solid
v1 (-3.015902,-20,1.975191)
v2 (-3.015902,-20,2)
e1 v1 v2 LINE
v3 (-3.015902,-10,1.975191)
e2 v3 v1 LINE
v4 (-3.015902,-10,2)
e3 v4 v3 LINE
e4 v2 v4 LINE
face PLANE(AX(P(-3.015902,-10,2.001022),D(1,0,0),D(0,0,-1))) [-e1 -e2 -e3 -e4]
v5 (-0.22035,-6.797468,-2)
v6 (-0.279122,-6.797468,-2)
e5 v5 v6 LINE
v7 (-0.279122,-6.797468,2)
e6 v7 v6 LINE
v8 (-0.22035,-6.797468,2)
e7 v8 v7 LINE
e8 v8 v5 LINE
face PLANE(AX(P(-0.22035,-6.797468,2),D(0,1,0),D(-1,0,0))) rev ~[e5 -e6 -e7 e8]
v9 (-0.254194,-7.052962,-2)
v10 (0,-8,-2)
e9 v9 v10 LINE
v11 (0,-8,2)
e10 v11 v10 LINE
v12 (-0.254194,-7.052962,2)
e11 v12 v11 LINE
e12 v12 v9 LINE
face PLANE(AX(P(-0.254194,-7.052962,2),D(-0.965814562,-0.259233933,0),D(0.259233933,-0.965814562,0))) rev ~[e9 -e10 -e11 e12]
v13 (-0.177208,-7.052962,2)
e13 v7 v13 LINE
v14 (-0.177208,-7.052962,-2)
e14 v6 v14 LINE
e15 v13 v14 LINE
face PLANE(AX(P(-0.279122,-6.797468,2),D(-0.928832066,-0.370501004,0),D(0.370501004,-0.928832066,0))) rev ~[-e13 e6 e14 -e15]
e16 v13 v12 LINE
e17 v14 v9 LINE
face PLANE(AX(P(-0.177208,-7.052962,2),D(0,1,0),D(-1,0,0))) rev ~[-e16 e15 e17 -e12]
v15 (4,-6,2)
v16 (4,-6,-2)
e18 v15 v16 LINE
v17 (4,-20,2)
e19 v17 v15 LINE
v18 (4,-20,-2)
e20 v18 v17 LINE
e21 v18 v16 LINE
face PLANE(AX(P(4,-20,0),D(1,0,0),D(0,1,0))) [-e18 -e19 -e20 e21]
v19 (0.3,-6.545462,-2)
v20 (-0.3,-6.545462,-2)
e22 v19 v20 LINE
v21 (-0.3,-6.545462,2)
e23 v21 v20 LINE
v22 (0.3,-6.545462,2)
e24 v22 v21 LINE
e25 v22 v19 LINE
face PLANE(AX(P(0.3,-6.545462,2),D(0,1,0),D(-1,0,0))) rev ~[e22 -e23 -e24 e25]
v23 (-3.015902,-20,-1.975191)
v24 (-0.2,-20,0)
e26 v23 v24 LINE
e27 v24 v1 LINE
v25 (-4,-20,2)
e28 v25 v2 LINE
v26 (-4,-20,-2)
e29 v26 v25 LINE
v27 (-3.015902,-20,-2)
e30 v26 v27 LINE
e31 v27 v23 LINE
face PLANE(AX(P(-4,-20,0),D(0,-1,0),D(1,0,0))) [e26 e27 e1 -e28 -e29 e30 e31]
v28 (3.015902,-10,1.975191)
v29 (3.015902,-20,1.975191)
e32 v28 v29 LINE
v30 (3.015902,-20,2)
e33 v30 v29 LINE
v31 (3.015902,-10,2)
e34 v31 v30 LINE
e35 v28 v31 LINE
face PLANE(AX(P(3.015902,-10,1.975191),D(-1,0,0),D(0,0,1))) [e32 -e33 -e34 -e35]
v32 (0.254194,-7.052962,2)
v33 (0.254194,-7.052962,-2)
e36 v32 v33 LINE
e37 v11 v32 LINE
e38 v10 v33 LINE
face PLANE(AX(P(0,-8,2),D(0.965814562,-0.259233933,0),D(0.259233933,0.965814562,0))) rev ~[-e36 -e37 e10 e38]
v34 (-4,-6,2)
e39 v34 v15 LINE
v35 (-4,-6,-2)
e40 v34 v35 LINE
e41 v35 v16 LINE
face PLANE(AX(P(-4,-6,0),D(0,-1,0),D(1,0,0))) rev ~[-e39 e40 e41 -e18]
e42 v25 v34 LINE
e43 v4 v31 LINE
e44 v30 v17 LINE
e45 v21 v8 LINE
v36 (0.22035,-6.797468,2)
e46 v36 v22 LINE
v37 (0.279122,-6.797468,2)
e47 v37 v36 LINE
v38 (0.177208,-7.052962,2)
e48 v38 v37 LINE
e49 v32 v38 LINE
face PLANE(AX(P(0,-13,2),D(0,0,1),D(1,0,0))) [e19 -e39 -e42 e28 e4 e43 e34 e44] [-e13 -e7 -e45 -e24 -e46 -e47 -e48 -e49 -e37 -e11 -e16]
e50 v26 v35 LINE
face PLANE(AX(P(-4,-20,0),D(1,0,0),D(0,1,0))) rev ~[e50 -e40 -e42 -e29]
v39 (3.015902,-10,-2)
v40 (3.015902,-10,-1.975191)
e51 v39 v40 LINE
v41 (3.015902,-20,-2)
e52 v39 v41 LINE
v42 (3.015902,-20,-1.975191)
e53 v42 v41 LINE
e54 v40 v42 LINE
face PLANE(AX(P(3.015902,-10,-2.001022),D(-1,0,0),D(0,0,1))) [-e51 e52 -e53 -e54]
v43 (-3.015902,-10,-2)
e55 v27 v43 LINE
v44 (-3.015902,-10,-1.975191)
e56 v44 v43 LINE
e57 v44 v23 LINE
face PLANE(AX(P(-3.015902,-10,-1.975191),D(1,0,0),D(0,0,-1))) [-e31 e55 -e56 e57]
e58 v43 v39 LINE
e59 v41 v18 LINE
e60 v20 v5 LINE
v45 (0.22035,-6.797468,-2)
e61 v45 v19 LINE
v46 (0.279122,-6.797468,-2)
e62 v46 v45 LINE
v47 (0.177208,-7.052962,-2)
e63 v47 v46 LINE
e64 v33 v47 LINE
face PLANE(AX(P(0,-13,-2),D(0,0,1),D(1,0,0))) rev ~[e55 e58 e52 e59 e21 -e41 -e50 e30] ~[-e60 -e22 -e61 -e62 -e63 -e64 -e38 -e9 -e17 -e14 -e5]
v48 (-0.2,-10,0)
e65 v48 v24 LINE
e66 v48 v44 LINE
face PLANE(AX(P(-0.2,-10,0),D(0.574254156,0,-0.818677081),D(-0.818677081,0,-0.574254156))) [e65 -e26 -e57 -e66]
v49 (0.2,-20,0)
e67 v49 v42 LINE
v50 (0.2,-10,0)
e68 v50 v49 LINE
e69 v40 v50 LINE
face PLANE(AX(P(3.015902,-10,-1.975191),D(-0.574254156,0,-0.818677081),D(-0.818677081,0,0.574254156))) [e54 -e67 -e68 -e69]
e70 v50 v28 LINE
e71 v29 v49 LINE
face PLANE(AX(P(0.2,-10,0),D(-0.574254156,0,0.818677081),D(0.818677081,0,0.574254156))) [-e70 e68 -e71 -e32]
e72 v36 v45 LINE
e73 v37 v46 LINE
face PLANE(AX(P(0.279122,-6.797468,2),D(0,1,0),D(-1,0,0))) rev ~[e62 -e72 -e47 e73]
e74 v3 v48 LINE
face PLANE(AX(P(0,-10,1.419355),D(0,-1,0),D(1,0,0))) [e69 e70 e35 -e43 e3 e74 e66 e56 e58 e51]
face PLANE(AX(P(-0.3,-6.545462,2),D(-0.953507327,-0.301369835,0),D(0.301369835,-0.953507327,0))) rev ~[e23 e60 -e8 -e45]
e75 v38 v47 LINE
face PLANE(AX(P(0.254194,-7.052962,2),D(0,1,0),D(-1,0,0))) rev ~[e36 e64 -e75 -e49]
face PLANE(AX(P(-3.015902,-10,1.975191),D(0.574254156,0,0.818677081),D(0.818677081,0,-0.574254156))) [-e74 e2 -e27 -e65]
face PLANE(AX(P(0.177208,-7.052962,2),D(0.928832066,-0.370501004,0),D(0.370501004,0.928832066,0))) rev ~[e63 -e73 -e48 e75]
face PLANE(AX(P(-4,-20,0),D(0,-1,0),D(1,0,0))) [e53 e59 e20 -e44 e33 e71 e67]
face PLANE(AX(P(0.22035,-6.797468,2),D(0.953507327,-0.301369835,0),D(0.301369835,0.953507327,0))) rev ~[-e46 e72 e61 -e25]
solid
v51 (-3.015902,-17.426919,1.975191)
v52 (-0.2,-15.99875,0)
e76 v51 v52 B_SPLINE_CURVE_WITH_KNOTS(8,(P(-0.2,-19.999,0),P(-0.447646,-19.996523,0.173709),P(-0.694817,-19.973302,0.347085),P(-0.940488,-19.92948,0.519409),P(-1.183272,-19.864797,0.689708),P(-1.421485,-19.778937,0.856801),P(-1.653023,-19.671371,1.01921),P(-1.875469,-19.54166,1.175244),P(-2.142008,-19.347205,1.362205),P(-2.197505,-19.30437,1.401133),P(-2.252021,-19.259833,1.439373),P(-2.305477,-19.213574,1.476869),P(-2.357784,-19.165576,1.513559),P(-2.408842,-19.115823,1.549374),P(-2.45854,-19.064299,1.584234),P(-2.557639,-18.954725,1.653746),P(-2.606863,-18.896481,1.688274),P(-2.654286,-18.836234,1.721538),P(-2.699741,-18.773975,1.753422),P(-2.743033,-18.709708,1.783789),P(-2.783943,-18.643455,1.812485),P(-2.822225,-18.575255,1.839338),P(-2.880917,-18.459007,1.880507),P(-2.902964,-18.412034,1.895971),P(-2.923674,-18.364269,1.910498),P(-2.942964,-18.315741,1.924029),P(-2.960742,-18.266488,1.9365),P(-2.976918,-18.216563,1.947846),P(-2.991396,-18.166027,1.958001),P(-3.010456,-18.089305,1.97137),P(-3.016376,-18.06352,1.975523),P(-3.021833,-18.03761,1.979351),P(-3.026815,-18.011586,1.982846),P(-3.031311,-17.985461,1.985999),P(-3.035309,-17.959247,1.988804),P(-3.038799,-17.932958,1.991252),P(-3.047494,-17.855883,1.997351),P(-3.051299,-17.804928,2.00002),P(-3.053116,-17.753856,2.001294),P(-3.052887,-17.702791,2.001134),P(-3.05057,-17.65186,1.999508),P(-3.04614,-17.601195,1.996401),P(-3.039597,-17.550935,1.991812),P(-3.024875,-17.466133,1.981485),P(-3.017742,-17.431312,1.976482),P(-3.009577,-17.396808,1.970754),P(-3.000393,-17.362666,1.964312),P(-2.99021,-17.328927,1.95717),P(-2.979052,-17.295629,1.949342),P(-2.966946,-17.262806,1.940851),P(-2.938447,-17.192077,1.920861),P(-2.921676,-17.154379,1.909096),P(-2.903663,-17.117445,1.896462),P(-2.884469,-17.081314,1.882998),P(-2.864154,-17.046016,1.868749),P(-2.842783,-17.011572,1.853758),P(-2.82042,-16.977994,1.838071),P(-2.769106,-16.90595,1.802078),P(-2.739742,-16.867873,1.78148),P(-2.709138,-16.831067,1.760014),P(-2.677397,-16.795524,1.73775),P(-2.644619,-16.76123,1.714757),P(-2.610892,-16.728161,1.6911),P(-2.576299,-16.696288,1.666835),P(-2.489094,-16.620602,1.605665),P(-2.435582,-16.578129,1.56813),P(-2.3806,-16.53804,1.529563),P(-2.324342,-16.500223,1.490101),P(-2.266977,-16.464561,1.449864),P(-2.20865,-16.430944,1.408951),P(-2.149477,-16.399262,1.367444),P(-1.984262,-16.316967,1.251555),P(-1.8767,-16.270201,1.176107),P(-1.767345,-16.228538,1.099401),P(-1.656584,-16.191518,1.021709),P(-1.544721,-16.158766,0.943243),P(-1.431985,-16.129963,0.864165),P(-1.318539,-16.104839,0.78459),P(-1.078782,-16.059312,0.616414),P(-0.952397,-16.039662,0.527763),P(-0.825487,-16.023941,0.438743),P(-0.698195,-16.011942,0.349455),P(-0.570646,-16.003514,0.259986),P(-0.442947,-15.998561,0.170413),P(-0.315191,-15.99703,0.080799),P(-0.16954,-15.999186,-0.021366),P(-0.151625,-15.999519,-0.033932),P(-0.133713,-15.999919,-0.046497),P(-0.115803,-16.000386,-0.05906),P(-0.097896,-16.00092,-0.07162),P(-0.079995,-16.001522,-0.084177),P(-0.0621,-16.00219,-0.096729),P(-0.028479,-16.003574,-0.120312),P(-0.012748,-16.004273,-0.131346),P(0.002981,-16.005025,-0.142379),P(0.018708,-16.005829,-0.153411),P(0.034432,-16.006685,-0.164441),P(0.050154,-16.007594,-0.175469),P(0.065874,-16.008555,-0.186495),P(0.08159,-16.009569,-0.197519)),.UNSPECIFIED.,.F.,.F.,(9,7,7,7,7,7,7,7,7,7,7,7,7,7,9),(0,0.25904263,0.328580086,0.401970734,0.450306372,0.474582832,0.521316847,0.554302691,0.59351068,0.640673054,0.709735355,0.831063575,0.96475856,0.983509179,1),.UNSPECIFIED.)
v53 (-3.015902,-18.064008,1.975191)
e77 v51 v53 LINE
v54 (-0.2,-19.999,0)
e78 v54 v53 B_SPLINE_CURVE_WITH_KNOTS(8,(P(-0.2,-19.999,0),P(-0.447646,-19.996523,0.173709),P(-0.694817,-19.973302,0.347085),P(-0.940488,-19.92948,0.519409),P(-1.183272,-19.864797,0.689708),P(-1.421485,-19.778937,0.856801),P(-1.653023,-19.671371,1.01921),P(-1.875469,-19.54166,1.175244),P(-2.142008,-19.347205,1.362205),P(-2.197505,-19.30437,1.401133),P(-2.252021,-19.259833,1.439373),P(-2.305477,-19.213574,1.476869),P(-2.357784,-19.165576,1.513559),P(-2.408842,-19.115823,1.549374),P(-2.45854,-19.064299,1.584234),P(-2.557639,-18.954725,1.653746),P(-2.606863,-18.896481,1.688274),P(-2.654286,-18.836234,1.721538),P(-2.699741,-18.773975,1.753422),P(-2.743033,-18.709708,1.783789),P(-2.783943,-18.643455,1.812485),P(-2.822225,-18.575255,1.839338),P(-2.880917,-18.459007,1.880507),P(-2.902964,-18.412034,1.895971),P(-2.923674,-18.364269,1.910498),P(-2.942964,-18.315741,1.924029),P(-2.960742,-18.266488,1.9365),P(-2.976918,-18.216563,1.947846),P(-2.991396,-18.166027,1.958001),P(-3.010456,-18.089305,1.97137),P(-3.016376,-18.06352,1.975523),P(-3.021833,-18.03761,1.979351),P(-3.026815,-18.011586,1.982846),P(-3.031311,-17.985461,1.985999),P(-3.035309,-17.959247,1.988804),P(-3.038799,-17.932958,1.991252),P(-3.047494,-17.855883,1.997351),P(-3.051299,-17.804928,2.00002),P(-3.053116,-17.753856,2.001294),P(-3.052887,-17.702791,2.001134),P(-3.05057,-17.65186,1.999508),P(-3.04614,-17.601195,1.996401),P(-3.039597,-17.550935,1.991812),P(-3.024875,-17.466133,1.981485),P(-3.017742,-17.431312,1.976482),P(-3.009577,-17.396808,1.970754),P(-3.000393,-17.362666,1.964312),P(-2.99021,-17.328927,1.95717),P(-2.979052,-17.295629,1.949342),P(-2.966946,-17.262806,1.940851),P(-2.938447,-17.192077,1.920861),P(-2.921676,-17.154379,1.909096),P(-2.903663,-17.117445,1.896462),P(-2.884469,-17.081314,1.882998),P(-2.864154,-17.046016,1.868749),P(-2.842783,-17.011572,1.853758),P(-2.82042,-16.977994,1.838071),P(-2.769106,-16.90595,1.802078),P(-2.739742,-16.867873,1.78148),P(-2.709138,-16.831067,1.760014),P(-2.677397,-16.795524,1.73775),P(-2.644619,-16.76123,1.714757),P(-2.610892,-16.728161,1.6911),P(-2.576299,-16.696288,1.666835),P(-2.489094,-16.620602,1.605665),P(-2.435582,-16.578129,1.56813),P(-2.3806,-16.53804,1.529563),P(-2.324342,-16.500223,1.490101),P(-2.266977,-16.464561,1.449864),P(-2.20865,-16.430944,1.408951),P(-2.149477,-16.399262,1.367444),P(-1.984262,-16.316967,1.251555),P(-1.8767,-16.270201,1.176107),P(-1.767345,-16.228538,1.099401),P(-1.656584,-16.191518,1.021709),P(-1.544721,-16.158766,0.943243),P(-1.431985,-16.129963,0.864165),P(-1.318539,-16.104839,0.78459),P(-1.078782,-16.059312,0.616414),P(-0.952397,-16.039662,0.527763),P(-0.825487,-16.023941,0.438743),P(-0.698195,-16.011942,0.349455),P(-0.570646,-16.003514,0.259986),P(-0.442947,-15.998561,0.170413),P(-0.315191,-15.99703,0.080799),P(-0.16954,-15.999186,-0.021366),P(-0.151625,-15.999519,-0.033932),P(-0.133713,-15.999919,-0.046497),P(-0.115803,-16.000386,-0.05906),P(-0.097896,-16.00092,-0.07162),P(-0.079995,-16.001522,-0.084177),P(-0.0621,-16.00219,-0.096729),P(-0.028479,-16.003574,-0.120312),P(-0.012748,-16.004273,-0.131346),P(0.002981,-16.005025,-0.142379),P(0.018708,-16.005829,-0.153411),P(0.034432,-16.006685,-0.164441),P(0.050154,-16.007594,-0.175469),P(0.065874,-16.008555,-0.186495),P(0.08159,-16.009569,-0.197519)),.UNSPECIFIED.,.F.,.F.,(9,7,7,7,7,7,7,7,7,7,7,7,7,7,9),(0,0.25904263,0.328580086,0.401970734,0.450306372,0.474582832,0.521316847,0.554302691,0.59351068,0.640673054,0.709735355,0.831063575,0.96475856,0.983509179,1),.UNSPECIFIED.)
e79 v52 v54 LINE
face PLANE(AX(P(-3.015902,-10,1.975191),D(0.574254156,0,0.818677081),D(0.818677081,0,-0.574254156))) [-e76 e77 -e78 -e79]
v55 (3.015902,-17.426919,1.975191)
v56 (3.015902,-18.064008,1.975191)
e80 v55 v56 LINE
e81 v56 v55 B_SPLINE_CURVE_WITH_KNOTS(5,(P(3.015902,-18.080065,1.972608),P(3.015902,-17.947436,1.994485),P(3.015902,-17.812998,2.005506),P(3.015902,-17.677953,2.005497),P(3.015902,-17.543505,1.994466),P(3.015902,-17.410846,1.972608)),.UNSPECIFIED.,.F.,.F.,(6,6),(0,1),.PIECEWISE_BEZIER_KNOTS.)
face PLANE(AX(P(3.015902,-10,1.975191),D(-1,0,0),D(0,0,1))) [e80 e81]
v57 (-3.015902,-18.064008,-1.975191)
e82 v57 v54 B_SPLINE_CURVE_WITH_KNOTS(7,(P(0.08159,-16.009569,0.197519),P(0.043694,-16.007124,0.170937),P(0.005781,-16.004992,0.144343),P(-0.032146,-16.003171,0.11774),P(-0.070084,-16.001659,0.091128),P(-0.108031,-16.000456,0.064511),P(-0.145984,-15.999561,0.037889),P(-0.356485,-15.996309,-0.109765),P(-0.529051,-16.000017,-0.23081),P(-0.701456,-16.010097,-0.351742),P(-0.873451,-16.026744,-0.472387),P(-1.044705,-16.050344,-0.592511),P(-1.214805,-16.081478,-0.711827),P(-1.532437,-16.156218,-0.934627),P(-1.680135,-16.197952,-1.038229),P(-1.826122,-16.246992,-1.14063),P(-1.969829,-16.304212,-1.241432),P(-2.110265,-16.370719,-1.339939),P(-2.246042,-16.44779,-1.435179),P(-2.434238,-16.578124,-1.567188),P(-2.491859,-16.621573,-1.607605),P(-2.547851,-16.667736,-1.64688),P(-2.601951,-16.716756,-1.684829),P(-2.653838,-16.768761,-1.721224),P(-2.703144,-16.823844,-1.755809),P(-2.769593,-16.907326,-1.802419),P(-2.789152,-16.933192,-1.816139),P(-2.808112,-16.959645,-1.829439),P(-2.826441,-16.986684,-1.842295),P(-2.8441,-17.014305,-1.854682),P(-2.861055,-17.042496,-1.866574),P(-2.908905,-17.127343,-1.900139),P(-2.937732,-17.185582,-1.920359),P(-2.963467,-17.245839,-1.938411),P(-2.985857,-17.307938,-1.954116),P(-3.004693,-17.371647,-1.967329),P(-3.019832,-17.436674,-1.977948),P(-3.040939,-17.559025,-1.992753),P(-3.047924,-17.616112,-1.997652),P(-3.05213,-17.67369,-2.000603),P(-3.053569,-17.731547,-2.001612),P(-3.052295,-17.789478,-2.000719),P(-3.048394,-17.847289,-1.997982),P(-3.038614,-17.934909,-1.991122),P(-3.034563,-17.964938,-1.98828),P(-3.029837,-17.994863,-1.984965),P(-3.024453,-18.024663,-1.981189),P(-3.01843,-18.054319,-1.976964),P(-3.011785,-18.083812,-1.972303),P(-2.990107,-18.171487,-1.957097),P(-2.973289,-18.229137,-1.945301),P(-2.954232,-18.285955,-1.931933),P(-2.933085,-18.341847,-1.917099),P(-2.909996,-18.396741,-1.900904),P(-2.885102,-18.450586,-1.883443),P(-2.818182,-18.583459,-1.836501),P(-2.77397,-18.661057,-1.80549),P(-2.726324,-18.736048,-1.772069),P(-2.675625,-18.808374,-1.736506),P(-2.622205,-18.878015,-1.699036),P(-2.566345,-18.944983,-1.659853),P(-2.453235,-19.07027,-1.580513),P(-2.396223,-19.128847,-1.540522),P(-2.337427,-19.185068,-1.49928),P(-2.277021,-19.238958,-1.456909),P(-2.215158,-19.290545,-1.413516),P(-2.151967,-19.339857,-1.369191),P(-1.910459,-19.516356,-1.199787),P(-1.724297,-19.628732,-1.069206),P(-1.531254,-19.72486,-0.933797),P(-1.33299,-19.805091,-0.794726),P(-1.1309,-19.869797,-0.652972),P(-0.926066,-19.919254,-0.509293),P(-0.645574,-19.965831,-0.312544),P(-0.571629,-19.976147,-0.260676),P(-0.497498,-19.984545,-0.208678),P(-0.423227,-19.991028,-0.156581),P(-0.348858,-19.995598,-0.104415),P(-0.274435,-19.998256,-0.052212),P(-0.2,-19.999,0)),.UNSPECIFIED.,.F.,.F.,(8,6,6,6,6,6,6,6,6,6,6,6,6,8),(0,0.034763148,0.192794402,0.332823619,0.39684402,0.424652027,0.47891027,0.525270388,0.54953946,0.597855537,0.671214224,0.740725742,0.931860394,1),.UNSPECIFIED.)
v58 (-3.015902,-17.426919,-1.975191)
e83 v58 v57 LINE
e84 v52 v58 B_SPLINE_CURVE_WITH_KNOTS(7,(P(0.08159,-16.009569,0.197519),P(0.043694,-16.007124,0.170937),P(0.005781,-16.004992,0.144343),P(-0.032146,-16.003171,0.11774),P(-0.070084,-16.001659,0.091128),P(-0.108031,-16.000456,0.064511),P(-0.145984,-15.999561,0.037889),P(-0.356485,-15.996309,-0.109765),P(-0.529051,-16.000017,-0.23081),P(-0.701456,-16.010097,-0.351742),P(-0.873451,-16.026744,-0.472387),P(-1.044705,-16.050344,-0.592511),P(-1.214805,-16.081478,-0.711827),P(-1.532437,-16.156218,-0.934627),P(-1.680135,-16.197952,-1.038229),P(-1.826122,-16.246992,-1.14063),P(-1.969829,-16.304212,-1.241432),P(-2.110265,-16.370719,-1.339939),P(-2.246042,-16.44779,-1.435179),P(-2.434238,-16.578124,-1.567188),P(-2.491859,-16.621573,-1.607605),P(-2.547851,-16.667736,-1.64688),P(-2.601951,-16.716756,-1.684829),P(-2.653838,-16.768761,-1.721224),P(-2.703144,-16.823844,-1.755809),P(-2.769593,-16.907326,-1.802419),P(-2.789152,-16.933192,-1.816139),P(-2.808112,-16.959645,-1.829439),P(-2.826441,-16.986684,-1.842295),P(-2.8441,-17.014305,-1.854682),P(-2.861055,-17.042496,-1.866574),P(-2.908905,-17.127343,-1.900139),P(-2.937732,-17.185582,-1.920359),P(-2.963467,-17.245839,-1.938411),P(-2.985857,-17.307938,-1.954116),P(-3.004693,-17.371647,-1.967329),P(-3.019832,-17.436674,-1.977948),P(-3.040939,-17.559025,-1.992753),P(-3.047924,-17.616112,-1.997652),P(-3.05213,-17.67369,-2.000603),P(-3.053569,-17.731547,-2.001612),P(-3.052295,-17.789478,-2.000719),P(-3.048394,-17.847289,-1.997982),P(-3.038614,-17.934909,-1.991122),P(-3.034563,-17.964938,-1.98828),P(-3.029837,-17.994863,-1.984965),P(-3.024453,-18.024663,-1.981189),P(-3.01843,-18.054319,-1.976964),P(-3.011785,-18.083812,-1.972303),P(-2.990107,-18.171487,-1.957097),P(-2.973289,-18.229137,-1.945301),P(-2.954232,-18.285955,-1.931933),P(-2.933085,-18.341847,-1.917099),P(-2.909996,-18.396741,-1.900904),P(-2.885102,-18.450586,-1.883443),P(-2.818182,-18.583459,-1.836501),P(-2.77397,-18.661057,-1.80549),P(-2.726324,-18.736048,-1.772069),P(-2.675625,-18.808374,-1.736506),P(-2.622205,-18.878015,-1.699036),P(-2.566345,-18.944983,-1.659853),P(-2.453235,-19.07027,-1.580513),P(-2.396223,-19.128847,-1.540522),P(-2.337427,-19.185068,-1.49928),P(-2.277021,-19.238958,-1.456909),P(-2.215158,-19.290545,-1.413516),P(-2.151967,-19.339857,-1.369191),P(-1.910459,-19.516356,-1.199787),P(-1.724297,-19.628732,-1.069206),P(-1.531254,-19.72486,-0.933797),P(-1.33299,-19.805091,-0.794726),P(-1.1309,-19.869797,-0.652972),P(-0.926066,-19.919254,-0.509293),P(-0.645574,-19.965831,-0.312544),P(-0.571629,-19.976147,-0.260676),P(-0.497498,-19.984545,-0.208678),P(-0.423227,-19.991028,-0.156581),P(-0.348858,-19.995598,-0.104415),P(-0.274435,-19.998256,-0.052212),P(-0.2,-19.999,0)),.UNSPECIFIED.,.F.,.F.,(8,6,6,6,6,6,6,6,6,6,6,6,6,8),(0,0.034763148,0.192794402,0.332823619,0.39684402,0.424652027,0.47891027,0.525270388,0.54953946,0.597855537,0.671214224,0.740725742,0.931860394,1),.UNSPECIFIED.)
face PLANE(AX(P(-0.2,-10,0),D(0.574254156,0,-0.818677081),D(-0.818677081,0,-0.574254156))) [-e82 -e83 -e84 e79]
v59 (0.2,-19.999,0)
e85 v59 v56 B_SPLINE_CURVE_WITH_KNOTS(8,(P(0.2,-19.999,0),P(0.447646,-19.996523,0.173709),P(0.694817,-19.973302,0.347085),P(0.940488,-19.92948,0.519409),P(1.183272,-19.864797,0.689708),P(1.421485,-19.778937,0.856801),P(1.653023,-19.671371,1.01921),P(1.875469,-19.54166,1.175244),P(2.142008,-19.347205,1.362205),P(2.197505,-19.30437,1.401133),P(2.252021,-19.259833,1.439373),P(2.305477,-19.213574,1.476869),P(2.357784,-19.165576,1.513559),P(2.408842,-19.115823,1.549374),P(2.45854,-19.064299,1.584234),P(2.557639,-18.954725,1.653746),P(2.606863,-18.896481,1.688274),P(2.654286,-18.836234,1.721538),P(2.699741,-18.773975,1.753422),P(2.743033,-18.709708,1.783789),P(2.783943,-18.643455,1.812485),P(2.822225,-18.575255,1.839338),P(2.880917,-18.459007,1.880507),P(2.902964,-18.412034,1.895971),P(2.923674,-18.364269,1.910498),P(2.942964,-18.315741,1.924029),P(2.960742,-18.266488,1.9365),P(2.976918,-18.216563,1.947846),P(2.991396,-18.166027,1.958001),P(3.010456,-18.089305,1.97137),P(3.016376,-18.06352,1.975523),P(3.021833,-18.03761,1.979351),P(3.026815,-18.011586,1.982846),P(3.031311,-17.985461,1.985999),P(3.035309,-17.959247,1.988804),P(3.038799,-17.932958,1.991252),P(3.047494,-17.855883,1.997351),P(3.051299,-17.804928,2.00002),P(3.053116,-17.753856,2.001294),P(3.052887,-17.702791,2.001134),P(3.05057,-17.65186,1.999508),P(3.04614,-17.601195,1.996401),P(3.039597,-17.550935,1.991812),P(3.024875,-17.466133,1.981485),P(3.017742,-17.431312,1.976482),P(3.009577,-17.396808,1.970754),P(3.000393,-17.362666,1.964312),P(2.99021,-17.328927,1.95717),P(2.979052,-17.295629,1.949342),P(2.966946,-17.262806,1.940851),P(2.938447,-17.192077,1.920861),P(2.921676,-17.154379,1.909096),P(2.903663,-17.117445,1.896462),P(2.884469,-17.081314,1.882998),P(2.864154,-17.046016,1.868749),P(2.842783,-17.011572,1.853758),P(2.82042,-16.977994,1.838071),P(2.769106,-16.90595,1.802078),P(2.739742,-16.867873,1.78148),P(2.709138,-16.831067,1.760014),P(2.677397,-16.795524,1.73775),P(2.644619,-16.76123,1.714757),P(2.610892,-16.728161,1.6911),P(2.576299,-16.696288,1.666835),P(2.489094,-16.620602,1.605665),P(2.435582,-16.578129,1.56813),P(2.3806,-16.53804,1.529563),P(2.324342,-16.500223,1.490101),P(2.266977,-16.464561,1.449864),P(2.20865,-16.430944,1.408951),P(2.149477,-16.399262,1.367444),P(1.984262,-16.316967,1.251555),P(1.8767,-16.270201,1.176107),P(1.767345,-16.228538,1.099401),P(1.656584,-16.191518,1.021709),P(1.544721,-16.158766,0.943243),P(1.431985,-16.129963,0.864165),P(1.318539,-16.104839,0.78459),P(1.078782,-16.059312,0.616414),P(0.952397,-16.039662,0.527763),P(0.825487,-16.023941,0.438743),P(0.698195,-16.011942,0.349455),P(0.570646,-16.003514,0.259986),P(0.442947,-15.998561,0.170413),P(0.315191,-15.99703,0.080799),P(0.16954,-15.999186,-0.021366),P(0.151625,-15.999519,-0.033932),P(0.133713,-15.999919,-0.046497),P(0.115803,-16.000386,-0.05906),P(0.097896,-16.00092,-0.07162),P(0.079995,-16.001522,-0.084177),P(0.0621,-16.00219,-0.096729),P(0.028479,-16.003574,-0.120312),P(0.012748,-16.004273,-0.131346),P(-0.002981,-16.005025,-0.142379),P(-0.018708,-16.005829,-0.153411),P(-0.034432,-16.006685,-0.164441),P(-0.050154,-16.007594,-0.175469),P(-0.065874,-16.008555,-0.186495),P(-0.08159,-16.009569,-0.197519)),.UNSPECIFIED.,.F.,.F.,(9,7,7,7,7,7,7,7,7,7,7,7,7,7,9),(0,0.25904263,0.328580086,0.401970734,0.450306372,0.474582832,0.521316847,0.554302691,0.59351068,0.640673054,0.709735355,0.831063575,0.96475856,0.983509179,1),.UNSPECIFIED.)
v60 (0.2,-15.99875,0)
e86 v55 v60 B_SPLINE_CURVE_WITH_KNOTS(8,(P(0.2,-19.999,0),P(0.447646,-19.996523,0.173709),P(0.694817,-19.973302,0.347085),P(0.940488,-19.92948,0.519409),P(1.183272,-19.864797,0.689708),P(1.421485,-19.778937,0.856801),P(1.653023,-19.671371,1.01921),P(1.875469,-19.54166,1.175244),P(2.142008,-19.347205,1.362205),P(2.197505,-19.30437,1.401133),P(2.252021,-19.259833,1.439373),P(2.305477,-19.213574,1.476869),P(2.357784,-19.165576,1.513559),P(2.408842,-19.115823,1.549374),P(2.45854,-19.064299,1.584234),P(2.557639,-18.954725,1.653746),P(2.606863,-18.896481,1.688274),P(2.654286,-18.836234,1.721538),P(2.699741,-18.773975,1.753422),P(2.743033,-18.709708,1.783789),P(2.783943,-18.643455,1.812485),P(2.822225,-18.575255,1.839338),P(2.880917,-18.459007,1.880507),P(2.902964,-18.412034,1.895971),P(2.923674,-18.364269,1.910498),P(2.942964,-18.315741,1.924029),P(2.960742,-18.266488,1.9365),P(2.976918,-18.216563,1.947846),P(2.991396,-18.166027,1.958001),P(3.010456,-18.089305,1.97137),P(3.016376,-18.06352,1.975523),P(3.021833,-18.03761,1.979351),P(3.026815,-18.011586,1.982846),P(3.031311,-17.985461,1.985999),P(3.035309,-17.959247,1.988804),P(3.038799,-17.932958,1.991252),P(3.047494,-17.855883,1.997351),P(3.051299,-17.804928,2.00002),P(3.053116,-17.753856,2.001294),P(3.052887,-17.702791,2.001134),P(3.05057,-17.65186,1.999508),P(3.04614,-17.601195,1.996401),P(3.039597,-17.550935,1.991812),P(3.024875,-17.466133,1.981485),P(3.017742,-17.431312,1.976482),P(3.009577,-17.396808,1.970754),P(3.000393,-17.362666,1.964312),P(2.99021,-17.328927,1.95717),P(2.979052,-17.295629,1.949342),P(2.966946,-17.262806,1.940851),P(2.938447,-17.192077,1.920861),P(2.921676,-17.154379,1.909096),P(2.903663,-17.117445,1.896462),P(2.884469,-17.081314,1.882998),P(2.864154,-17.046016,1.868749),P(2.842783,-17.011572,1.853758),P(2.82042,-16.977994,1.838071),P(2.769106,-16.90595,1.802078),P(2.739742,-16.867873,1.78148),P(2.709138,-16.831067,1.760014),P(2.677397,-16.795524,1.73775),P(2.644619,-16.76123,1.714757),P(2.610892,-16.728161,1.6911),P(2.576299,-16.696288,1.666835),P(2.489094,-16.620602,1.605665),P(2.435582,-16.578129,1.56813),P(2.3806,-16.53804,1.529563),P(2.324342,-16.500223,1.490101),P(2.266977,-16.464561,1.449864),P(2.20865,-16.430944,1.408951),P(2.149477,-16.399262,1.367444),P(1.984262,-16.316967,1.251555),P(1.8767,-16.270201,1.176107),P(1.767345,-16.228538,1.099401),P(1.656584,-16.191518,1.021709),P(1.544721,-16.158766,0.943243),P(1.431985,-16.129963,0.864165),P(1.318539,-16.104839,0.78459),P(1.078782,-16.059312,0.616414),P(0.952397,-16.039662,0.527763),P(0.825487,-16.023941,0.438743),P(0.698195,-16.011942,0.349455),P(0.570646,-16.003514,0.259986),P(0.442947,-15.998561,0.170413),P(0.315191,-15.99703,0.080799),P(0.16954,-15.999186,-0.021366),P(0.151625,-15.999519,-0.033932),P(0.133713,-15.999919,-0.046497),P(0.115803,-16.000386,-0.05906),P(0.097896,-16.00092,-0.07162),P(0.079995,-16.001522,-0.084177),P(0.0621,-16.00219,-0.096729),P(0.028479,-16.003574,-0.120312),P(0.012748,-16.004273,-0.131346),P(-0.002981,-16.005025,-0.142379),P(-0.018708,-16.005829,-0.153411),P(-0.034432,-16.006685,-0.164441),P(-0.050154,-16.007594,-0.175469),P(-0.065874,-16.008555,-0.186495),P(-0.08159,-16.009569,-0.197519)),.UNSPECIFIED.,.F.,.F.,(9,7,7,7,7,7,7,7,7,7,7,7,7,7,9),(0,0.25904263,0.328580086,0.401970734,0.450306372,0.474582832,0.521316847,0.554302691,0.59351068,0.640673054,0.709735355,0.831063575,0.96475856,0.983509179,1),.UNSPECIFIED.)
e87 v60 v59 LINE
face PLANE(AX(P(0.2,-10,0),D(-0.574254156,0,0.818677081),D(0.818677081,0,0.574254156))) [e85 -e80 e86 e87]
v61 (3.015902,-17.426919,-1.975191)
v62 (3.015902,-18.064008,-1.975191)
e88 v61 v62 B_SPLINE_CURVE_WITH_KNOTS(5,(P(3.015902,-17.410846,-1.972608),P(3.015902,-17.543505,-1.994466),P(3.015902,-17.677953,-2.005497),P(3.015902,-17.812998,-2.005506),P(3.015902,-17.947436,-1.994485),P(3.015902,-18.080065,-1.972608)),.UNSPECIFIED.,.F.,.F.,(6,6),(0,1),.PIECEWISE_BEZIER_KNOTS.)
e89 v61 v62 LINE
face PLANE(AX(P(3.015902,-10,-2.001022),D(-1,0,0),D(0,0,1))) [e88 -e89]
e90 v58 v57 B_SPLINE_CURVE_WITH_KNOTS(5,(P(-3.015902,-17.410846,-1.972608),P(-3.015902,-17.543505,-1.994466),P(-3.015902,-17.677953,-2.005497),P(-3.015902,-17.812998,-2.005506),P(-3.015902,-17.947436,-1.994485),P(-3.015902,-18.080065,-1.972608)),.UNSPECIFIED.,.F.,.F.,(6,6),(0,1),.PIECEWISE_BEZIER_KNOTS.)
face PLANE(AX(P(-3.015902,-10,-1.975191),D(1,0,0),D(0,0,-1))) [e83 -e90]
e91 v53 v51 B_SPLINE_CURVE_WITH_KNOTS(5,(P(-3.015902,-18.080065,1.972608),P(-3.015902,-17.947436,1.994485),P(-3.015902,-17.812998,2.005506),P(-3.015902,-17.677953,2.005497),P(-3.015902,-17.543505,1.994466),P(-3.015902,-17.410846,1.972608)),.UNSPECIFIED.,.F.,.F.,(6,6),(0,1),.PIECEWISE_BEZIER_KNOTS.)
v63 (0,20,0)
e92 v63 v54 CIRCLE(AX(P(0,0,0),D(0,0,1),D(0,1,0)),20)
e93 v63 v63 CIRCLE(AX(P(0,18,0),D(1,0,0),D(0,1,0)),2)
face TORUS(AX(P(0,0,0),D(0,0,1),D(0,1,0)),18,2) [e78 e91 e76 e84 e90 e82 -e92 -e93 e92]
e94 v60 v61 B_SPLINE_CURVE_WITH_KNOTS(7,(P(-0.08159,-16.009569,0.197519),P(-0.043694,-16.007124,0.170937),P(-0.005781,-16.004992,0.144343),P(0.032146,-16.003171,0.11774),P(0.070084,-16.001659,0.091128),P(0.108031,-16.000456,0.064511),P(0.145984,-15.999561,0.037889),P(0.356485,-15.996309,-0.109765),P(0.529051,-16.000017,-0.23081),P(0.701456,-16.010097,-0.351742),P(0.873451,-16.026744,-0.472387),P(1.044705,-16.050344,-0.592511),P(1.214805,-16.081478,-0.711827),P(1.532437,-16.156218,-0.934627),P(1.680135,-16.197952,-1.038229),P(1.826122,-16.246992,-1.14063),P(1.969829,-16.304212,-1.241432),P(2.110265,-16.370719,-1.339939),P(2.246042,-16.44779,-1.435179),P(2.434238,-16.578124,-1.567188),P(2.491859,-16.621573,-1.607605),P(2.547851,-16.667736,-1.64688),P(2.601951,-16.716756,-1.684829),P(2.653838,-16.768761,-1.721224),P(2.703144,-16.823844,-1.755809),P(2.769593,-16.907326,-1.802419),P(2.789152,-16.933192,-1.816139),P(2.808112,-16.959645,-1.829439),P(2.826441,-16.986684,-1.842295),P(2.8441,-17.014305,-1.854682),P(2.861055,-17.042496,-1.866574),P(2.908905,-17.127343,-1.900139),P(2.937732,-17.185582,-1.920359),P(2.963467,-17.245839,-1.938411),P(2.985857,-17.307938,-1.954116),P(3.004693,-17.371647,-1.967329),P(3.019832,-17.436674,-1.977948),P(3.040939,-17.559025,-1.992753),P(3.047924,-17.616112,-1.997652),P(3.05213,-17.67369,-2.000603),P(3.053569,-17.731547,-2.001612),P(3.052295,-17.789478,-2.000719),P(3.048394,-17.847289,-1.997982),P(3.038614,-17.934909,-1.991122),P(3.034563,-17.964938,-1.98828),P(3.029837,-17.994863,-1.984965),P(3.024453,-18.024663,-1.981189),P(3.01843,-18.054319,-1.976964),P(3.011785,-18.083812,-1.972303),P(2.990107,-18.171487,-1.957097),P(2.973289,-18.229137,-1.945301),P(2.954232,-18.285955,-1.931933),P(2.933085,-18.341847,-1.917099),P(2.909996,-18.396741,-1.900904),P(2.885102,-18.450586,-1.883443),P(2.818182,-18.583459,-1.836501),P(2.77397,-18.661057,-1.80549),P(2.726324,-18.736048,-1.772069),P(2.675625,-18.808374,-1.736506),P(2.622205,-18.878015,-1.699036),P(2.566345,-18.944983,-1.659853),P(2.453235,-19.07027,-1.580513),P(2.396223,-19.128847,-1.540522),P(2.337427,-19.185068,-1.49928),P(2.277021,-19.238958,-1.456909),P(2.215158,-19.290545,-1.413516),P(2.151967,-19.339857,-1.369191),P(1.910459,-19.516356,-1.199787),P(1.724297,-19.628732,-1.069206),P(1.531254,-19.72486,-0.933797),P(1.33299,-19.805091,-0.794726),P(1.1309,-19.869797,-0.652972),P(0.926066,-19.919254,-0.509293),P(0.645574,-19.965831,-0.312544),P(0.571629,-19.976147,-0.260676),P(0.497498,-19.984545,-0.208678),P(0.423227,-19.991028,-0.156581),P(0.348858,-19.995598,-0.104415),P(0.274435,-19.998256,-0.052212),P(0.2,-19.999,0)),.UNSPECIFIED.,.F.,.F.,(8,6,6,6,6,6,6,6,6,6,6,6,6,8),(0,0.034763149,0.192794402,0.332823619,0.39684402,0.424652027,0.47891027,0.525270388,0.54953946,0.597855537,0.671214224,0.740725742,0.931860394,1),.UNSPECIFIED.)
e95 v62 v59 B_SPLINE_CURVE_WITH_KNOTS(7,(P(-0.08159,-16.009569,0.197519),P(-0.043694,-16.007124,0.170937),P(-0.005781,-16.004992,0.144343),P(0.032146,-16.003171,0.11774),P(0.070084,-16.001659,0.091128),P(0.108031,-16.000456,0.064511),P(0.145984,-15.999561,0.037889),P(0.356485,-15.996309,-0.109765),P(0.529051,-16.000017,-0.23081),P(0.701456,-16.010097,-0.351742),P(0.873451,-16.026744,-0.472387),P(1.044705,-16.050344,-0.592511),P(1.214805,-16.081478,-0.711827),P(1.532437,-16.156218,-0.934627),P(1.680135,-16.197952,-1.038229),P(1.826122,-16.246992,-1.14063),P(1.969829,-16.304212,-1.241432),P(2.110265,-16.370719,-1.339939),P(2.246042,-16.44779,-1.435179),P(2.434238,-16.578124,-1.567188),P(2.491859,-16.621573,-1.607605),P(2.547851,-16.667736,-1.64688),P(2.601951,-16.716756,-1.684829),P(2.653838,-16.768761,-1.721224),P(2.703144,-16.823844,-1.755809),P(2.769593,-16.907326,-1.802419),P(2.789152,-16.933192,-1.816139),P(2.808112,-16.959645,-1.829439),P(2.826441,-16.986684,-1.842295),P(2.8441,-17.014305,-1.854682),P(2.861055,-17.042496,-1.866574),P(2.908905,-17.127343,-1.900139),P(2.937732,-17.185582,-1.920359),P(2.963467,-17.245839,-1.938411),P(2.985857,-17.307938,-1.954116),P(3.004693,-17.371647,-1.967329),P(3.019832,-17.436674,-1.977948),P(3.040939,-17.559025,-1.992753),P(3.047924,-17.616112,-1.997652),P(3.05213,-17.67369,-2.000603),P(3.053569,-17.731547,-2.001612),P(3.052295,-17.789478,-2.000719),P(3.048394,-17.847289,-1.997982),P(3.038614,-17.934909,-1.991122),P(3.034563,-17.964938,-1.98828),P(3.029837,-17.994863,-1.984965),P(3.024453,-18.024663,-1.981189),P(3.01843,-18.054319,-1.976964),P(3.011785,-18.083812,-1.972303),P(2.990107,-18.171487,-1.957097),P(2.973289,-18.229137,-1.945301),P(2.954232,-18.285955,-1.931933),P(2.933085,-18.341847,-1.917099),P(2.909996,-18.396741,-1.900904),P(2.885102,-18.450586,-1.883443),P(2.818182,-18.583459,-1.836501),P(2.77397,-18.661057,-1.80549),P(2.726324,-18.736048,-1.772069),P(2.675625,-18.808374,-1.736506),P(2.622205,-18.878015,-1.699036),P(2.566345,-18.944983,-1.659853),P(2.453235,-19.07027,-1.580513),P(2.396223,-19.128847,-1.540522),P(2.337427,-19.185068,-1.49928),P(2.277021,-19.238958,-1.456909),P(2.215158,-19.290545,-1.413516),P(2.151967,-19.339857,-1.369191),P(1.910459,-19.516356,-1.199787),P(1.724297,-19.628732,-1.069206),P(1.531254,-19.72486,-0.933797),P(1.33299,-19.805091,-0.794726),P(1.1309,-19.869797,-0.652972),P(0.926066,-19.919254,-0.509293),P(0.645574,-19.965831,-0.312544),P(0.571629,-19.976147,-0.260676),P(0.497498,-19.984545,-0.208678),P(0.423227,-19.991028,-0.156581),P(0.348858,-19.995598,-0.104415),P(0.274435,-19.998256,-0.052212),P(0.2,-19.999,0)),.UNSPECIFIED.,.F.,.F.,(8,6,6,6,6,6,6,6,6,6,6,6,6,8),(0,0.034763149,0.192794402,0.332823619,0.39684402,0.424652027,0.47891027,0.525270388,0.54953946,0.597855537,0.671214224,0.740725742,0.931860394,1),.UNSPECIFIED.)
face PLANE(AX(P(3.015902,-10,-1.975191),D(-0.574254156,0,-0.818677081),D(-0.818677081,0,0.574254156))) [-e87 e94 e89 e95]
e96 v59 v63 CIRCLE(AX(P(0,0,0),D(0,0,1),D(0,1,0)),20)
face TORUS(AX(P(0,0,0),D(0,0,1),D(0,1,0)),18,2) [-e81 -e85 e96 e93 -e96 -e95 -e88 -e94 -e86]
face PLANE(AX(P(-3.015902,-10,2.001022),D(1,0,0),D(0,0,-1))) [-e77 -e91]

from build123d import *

# Parameters (mm, degrees)
F1_R          = 2
F3_W          = 8
F3_H          = 14
F4_DEPTH      = 2
F4_DEPTH_BACK = 2
F6_START      = 10
F6_DEPTH      = 16
F8_DEPTH      = 25


with BuildPart() as f2:
    # F1 (on Right) → F2 (revolve)
    with BuildSketch(Plane.YZ):
        with Locations((18, 0)):
            Circle(F1_R)
    revolve(axis=Axis((0, 0, 0), (0, 0, 1)))


with BuildPart() as f4:
    # F3 (on Top) → F4 (new body, two sides)
    with BuildSketch(Plane.XY) as f4_sk:
        with Locations((0, -13)):
            Rectangle(F3_W, F3_H)
    extrude(amount=F4_DEPTH)
    extrude(f4_sk.sketch, amount=-F4_DEPTH_BACK)


with BuildPart() as f6_tool:
    # F5 (on Front) → F6 (new body)
    with BuildSketch(Plane.XZ.offset(F6_START)):
        Polygon((-0.2, 0), (0, 0), (0.2, 0), (3.0159020573, 1.9751908258), (3.0159020573, 2.0010224544), (-3.0159020573, 2.0010224544), (-3.0159020573, 1.9751908258), align=None)
        Polygon((0.2, 0), (0, 0), (-0.2, 0), (-3.0159020573, -1.9751908258), (-3.0159020573, -2.0010224544), (3.0159020573, -2.0010224544), (3.0159020573, -1.9751908258), align=None)
    extrude(amount=F6_DEPTH)


with BuildPart() as f2_1:
    add(f2.part)

    # F6: cut by f6_tool
    add(f6_tool.part, mode=Mode.SUBTRACT)


with BuildPart() as f4_1:
    add(f4.part)

    # F6: cut by f6_tool
    add(f6_tool.part, mode=Mode.SUBTRACT)

    # F7 (on face) → F8 (cut)
    with BuildSketch(Plane.XY.offset(2)):
        Polygon((0.3, -6.5454615004), (0, -6.5454615004), (0, -8), (0.254194194, -7.0529617369), (0.1772082032, -7.0529617369), (0.2791219449, -6.7974678241), (0.2203497424, -6.7974678241), align=None)
        Polygon((0, -8), (0, -6.5454615004), (-0.3, -6.5454615004), (-0.2203497424, -6.7974678241), (-0.2791219449, -6.7974678241), (-0.1772082032, -7.0529617369), (-0.254194194, -7.0529617369), align=None)
    extrude(amount=-F8_DEPTH, mode=Mode.SUBTRACT)


solid = Compound([f2_1.part, f4_1.part])
